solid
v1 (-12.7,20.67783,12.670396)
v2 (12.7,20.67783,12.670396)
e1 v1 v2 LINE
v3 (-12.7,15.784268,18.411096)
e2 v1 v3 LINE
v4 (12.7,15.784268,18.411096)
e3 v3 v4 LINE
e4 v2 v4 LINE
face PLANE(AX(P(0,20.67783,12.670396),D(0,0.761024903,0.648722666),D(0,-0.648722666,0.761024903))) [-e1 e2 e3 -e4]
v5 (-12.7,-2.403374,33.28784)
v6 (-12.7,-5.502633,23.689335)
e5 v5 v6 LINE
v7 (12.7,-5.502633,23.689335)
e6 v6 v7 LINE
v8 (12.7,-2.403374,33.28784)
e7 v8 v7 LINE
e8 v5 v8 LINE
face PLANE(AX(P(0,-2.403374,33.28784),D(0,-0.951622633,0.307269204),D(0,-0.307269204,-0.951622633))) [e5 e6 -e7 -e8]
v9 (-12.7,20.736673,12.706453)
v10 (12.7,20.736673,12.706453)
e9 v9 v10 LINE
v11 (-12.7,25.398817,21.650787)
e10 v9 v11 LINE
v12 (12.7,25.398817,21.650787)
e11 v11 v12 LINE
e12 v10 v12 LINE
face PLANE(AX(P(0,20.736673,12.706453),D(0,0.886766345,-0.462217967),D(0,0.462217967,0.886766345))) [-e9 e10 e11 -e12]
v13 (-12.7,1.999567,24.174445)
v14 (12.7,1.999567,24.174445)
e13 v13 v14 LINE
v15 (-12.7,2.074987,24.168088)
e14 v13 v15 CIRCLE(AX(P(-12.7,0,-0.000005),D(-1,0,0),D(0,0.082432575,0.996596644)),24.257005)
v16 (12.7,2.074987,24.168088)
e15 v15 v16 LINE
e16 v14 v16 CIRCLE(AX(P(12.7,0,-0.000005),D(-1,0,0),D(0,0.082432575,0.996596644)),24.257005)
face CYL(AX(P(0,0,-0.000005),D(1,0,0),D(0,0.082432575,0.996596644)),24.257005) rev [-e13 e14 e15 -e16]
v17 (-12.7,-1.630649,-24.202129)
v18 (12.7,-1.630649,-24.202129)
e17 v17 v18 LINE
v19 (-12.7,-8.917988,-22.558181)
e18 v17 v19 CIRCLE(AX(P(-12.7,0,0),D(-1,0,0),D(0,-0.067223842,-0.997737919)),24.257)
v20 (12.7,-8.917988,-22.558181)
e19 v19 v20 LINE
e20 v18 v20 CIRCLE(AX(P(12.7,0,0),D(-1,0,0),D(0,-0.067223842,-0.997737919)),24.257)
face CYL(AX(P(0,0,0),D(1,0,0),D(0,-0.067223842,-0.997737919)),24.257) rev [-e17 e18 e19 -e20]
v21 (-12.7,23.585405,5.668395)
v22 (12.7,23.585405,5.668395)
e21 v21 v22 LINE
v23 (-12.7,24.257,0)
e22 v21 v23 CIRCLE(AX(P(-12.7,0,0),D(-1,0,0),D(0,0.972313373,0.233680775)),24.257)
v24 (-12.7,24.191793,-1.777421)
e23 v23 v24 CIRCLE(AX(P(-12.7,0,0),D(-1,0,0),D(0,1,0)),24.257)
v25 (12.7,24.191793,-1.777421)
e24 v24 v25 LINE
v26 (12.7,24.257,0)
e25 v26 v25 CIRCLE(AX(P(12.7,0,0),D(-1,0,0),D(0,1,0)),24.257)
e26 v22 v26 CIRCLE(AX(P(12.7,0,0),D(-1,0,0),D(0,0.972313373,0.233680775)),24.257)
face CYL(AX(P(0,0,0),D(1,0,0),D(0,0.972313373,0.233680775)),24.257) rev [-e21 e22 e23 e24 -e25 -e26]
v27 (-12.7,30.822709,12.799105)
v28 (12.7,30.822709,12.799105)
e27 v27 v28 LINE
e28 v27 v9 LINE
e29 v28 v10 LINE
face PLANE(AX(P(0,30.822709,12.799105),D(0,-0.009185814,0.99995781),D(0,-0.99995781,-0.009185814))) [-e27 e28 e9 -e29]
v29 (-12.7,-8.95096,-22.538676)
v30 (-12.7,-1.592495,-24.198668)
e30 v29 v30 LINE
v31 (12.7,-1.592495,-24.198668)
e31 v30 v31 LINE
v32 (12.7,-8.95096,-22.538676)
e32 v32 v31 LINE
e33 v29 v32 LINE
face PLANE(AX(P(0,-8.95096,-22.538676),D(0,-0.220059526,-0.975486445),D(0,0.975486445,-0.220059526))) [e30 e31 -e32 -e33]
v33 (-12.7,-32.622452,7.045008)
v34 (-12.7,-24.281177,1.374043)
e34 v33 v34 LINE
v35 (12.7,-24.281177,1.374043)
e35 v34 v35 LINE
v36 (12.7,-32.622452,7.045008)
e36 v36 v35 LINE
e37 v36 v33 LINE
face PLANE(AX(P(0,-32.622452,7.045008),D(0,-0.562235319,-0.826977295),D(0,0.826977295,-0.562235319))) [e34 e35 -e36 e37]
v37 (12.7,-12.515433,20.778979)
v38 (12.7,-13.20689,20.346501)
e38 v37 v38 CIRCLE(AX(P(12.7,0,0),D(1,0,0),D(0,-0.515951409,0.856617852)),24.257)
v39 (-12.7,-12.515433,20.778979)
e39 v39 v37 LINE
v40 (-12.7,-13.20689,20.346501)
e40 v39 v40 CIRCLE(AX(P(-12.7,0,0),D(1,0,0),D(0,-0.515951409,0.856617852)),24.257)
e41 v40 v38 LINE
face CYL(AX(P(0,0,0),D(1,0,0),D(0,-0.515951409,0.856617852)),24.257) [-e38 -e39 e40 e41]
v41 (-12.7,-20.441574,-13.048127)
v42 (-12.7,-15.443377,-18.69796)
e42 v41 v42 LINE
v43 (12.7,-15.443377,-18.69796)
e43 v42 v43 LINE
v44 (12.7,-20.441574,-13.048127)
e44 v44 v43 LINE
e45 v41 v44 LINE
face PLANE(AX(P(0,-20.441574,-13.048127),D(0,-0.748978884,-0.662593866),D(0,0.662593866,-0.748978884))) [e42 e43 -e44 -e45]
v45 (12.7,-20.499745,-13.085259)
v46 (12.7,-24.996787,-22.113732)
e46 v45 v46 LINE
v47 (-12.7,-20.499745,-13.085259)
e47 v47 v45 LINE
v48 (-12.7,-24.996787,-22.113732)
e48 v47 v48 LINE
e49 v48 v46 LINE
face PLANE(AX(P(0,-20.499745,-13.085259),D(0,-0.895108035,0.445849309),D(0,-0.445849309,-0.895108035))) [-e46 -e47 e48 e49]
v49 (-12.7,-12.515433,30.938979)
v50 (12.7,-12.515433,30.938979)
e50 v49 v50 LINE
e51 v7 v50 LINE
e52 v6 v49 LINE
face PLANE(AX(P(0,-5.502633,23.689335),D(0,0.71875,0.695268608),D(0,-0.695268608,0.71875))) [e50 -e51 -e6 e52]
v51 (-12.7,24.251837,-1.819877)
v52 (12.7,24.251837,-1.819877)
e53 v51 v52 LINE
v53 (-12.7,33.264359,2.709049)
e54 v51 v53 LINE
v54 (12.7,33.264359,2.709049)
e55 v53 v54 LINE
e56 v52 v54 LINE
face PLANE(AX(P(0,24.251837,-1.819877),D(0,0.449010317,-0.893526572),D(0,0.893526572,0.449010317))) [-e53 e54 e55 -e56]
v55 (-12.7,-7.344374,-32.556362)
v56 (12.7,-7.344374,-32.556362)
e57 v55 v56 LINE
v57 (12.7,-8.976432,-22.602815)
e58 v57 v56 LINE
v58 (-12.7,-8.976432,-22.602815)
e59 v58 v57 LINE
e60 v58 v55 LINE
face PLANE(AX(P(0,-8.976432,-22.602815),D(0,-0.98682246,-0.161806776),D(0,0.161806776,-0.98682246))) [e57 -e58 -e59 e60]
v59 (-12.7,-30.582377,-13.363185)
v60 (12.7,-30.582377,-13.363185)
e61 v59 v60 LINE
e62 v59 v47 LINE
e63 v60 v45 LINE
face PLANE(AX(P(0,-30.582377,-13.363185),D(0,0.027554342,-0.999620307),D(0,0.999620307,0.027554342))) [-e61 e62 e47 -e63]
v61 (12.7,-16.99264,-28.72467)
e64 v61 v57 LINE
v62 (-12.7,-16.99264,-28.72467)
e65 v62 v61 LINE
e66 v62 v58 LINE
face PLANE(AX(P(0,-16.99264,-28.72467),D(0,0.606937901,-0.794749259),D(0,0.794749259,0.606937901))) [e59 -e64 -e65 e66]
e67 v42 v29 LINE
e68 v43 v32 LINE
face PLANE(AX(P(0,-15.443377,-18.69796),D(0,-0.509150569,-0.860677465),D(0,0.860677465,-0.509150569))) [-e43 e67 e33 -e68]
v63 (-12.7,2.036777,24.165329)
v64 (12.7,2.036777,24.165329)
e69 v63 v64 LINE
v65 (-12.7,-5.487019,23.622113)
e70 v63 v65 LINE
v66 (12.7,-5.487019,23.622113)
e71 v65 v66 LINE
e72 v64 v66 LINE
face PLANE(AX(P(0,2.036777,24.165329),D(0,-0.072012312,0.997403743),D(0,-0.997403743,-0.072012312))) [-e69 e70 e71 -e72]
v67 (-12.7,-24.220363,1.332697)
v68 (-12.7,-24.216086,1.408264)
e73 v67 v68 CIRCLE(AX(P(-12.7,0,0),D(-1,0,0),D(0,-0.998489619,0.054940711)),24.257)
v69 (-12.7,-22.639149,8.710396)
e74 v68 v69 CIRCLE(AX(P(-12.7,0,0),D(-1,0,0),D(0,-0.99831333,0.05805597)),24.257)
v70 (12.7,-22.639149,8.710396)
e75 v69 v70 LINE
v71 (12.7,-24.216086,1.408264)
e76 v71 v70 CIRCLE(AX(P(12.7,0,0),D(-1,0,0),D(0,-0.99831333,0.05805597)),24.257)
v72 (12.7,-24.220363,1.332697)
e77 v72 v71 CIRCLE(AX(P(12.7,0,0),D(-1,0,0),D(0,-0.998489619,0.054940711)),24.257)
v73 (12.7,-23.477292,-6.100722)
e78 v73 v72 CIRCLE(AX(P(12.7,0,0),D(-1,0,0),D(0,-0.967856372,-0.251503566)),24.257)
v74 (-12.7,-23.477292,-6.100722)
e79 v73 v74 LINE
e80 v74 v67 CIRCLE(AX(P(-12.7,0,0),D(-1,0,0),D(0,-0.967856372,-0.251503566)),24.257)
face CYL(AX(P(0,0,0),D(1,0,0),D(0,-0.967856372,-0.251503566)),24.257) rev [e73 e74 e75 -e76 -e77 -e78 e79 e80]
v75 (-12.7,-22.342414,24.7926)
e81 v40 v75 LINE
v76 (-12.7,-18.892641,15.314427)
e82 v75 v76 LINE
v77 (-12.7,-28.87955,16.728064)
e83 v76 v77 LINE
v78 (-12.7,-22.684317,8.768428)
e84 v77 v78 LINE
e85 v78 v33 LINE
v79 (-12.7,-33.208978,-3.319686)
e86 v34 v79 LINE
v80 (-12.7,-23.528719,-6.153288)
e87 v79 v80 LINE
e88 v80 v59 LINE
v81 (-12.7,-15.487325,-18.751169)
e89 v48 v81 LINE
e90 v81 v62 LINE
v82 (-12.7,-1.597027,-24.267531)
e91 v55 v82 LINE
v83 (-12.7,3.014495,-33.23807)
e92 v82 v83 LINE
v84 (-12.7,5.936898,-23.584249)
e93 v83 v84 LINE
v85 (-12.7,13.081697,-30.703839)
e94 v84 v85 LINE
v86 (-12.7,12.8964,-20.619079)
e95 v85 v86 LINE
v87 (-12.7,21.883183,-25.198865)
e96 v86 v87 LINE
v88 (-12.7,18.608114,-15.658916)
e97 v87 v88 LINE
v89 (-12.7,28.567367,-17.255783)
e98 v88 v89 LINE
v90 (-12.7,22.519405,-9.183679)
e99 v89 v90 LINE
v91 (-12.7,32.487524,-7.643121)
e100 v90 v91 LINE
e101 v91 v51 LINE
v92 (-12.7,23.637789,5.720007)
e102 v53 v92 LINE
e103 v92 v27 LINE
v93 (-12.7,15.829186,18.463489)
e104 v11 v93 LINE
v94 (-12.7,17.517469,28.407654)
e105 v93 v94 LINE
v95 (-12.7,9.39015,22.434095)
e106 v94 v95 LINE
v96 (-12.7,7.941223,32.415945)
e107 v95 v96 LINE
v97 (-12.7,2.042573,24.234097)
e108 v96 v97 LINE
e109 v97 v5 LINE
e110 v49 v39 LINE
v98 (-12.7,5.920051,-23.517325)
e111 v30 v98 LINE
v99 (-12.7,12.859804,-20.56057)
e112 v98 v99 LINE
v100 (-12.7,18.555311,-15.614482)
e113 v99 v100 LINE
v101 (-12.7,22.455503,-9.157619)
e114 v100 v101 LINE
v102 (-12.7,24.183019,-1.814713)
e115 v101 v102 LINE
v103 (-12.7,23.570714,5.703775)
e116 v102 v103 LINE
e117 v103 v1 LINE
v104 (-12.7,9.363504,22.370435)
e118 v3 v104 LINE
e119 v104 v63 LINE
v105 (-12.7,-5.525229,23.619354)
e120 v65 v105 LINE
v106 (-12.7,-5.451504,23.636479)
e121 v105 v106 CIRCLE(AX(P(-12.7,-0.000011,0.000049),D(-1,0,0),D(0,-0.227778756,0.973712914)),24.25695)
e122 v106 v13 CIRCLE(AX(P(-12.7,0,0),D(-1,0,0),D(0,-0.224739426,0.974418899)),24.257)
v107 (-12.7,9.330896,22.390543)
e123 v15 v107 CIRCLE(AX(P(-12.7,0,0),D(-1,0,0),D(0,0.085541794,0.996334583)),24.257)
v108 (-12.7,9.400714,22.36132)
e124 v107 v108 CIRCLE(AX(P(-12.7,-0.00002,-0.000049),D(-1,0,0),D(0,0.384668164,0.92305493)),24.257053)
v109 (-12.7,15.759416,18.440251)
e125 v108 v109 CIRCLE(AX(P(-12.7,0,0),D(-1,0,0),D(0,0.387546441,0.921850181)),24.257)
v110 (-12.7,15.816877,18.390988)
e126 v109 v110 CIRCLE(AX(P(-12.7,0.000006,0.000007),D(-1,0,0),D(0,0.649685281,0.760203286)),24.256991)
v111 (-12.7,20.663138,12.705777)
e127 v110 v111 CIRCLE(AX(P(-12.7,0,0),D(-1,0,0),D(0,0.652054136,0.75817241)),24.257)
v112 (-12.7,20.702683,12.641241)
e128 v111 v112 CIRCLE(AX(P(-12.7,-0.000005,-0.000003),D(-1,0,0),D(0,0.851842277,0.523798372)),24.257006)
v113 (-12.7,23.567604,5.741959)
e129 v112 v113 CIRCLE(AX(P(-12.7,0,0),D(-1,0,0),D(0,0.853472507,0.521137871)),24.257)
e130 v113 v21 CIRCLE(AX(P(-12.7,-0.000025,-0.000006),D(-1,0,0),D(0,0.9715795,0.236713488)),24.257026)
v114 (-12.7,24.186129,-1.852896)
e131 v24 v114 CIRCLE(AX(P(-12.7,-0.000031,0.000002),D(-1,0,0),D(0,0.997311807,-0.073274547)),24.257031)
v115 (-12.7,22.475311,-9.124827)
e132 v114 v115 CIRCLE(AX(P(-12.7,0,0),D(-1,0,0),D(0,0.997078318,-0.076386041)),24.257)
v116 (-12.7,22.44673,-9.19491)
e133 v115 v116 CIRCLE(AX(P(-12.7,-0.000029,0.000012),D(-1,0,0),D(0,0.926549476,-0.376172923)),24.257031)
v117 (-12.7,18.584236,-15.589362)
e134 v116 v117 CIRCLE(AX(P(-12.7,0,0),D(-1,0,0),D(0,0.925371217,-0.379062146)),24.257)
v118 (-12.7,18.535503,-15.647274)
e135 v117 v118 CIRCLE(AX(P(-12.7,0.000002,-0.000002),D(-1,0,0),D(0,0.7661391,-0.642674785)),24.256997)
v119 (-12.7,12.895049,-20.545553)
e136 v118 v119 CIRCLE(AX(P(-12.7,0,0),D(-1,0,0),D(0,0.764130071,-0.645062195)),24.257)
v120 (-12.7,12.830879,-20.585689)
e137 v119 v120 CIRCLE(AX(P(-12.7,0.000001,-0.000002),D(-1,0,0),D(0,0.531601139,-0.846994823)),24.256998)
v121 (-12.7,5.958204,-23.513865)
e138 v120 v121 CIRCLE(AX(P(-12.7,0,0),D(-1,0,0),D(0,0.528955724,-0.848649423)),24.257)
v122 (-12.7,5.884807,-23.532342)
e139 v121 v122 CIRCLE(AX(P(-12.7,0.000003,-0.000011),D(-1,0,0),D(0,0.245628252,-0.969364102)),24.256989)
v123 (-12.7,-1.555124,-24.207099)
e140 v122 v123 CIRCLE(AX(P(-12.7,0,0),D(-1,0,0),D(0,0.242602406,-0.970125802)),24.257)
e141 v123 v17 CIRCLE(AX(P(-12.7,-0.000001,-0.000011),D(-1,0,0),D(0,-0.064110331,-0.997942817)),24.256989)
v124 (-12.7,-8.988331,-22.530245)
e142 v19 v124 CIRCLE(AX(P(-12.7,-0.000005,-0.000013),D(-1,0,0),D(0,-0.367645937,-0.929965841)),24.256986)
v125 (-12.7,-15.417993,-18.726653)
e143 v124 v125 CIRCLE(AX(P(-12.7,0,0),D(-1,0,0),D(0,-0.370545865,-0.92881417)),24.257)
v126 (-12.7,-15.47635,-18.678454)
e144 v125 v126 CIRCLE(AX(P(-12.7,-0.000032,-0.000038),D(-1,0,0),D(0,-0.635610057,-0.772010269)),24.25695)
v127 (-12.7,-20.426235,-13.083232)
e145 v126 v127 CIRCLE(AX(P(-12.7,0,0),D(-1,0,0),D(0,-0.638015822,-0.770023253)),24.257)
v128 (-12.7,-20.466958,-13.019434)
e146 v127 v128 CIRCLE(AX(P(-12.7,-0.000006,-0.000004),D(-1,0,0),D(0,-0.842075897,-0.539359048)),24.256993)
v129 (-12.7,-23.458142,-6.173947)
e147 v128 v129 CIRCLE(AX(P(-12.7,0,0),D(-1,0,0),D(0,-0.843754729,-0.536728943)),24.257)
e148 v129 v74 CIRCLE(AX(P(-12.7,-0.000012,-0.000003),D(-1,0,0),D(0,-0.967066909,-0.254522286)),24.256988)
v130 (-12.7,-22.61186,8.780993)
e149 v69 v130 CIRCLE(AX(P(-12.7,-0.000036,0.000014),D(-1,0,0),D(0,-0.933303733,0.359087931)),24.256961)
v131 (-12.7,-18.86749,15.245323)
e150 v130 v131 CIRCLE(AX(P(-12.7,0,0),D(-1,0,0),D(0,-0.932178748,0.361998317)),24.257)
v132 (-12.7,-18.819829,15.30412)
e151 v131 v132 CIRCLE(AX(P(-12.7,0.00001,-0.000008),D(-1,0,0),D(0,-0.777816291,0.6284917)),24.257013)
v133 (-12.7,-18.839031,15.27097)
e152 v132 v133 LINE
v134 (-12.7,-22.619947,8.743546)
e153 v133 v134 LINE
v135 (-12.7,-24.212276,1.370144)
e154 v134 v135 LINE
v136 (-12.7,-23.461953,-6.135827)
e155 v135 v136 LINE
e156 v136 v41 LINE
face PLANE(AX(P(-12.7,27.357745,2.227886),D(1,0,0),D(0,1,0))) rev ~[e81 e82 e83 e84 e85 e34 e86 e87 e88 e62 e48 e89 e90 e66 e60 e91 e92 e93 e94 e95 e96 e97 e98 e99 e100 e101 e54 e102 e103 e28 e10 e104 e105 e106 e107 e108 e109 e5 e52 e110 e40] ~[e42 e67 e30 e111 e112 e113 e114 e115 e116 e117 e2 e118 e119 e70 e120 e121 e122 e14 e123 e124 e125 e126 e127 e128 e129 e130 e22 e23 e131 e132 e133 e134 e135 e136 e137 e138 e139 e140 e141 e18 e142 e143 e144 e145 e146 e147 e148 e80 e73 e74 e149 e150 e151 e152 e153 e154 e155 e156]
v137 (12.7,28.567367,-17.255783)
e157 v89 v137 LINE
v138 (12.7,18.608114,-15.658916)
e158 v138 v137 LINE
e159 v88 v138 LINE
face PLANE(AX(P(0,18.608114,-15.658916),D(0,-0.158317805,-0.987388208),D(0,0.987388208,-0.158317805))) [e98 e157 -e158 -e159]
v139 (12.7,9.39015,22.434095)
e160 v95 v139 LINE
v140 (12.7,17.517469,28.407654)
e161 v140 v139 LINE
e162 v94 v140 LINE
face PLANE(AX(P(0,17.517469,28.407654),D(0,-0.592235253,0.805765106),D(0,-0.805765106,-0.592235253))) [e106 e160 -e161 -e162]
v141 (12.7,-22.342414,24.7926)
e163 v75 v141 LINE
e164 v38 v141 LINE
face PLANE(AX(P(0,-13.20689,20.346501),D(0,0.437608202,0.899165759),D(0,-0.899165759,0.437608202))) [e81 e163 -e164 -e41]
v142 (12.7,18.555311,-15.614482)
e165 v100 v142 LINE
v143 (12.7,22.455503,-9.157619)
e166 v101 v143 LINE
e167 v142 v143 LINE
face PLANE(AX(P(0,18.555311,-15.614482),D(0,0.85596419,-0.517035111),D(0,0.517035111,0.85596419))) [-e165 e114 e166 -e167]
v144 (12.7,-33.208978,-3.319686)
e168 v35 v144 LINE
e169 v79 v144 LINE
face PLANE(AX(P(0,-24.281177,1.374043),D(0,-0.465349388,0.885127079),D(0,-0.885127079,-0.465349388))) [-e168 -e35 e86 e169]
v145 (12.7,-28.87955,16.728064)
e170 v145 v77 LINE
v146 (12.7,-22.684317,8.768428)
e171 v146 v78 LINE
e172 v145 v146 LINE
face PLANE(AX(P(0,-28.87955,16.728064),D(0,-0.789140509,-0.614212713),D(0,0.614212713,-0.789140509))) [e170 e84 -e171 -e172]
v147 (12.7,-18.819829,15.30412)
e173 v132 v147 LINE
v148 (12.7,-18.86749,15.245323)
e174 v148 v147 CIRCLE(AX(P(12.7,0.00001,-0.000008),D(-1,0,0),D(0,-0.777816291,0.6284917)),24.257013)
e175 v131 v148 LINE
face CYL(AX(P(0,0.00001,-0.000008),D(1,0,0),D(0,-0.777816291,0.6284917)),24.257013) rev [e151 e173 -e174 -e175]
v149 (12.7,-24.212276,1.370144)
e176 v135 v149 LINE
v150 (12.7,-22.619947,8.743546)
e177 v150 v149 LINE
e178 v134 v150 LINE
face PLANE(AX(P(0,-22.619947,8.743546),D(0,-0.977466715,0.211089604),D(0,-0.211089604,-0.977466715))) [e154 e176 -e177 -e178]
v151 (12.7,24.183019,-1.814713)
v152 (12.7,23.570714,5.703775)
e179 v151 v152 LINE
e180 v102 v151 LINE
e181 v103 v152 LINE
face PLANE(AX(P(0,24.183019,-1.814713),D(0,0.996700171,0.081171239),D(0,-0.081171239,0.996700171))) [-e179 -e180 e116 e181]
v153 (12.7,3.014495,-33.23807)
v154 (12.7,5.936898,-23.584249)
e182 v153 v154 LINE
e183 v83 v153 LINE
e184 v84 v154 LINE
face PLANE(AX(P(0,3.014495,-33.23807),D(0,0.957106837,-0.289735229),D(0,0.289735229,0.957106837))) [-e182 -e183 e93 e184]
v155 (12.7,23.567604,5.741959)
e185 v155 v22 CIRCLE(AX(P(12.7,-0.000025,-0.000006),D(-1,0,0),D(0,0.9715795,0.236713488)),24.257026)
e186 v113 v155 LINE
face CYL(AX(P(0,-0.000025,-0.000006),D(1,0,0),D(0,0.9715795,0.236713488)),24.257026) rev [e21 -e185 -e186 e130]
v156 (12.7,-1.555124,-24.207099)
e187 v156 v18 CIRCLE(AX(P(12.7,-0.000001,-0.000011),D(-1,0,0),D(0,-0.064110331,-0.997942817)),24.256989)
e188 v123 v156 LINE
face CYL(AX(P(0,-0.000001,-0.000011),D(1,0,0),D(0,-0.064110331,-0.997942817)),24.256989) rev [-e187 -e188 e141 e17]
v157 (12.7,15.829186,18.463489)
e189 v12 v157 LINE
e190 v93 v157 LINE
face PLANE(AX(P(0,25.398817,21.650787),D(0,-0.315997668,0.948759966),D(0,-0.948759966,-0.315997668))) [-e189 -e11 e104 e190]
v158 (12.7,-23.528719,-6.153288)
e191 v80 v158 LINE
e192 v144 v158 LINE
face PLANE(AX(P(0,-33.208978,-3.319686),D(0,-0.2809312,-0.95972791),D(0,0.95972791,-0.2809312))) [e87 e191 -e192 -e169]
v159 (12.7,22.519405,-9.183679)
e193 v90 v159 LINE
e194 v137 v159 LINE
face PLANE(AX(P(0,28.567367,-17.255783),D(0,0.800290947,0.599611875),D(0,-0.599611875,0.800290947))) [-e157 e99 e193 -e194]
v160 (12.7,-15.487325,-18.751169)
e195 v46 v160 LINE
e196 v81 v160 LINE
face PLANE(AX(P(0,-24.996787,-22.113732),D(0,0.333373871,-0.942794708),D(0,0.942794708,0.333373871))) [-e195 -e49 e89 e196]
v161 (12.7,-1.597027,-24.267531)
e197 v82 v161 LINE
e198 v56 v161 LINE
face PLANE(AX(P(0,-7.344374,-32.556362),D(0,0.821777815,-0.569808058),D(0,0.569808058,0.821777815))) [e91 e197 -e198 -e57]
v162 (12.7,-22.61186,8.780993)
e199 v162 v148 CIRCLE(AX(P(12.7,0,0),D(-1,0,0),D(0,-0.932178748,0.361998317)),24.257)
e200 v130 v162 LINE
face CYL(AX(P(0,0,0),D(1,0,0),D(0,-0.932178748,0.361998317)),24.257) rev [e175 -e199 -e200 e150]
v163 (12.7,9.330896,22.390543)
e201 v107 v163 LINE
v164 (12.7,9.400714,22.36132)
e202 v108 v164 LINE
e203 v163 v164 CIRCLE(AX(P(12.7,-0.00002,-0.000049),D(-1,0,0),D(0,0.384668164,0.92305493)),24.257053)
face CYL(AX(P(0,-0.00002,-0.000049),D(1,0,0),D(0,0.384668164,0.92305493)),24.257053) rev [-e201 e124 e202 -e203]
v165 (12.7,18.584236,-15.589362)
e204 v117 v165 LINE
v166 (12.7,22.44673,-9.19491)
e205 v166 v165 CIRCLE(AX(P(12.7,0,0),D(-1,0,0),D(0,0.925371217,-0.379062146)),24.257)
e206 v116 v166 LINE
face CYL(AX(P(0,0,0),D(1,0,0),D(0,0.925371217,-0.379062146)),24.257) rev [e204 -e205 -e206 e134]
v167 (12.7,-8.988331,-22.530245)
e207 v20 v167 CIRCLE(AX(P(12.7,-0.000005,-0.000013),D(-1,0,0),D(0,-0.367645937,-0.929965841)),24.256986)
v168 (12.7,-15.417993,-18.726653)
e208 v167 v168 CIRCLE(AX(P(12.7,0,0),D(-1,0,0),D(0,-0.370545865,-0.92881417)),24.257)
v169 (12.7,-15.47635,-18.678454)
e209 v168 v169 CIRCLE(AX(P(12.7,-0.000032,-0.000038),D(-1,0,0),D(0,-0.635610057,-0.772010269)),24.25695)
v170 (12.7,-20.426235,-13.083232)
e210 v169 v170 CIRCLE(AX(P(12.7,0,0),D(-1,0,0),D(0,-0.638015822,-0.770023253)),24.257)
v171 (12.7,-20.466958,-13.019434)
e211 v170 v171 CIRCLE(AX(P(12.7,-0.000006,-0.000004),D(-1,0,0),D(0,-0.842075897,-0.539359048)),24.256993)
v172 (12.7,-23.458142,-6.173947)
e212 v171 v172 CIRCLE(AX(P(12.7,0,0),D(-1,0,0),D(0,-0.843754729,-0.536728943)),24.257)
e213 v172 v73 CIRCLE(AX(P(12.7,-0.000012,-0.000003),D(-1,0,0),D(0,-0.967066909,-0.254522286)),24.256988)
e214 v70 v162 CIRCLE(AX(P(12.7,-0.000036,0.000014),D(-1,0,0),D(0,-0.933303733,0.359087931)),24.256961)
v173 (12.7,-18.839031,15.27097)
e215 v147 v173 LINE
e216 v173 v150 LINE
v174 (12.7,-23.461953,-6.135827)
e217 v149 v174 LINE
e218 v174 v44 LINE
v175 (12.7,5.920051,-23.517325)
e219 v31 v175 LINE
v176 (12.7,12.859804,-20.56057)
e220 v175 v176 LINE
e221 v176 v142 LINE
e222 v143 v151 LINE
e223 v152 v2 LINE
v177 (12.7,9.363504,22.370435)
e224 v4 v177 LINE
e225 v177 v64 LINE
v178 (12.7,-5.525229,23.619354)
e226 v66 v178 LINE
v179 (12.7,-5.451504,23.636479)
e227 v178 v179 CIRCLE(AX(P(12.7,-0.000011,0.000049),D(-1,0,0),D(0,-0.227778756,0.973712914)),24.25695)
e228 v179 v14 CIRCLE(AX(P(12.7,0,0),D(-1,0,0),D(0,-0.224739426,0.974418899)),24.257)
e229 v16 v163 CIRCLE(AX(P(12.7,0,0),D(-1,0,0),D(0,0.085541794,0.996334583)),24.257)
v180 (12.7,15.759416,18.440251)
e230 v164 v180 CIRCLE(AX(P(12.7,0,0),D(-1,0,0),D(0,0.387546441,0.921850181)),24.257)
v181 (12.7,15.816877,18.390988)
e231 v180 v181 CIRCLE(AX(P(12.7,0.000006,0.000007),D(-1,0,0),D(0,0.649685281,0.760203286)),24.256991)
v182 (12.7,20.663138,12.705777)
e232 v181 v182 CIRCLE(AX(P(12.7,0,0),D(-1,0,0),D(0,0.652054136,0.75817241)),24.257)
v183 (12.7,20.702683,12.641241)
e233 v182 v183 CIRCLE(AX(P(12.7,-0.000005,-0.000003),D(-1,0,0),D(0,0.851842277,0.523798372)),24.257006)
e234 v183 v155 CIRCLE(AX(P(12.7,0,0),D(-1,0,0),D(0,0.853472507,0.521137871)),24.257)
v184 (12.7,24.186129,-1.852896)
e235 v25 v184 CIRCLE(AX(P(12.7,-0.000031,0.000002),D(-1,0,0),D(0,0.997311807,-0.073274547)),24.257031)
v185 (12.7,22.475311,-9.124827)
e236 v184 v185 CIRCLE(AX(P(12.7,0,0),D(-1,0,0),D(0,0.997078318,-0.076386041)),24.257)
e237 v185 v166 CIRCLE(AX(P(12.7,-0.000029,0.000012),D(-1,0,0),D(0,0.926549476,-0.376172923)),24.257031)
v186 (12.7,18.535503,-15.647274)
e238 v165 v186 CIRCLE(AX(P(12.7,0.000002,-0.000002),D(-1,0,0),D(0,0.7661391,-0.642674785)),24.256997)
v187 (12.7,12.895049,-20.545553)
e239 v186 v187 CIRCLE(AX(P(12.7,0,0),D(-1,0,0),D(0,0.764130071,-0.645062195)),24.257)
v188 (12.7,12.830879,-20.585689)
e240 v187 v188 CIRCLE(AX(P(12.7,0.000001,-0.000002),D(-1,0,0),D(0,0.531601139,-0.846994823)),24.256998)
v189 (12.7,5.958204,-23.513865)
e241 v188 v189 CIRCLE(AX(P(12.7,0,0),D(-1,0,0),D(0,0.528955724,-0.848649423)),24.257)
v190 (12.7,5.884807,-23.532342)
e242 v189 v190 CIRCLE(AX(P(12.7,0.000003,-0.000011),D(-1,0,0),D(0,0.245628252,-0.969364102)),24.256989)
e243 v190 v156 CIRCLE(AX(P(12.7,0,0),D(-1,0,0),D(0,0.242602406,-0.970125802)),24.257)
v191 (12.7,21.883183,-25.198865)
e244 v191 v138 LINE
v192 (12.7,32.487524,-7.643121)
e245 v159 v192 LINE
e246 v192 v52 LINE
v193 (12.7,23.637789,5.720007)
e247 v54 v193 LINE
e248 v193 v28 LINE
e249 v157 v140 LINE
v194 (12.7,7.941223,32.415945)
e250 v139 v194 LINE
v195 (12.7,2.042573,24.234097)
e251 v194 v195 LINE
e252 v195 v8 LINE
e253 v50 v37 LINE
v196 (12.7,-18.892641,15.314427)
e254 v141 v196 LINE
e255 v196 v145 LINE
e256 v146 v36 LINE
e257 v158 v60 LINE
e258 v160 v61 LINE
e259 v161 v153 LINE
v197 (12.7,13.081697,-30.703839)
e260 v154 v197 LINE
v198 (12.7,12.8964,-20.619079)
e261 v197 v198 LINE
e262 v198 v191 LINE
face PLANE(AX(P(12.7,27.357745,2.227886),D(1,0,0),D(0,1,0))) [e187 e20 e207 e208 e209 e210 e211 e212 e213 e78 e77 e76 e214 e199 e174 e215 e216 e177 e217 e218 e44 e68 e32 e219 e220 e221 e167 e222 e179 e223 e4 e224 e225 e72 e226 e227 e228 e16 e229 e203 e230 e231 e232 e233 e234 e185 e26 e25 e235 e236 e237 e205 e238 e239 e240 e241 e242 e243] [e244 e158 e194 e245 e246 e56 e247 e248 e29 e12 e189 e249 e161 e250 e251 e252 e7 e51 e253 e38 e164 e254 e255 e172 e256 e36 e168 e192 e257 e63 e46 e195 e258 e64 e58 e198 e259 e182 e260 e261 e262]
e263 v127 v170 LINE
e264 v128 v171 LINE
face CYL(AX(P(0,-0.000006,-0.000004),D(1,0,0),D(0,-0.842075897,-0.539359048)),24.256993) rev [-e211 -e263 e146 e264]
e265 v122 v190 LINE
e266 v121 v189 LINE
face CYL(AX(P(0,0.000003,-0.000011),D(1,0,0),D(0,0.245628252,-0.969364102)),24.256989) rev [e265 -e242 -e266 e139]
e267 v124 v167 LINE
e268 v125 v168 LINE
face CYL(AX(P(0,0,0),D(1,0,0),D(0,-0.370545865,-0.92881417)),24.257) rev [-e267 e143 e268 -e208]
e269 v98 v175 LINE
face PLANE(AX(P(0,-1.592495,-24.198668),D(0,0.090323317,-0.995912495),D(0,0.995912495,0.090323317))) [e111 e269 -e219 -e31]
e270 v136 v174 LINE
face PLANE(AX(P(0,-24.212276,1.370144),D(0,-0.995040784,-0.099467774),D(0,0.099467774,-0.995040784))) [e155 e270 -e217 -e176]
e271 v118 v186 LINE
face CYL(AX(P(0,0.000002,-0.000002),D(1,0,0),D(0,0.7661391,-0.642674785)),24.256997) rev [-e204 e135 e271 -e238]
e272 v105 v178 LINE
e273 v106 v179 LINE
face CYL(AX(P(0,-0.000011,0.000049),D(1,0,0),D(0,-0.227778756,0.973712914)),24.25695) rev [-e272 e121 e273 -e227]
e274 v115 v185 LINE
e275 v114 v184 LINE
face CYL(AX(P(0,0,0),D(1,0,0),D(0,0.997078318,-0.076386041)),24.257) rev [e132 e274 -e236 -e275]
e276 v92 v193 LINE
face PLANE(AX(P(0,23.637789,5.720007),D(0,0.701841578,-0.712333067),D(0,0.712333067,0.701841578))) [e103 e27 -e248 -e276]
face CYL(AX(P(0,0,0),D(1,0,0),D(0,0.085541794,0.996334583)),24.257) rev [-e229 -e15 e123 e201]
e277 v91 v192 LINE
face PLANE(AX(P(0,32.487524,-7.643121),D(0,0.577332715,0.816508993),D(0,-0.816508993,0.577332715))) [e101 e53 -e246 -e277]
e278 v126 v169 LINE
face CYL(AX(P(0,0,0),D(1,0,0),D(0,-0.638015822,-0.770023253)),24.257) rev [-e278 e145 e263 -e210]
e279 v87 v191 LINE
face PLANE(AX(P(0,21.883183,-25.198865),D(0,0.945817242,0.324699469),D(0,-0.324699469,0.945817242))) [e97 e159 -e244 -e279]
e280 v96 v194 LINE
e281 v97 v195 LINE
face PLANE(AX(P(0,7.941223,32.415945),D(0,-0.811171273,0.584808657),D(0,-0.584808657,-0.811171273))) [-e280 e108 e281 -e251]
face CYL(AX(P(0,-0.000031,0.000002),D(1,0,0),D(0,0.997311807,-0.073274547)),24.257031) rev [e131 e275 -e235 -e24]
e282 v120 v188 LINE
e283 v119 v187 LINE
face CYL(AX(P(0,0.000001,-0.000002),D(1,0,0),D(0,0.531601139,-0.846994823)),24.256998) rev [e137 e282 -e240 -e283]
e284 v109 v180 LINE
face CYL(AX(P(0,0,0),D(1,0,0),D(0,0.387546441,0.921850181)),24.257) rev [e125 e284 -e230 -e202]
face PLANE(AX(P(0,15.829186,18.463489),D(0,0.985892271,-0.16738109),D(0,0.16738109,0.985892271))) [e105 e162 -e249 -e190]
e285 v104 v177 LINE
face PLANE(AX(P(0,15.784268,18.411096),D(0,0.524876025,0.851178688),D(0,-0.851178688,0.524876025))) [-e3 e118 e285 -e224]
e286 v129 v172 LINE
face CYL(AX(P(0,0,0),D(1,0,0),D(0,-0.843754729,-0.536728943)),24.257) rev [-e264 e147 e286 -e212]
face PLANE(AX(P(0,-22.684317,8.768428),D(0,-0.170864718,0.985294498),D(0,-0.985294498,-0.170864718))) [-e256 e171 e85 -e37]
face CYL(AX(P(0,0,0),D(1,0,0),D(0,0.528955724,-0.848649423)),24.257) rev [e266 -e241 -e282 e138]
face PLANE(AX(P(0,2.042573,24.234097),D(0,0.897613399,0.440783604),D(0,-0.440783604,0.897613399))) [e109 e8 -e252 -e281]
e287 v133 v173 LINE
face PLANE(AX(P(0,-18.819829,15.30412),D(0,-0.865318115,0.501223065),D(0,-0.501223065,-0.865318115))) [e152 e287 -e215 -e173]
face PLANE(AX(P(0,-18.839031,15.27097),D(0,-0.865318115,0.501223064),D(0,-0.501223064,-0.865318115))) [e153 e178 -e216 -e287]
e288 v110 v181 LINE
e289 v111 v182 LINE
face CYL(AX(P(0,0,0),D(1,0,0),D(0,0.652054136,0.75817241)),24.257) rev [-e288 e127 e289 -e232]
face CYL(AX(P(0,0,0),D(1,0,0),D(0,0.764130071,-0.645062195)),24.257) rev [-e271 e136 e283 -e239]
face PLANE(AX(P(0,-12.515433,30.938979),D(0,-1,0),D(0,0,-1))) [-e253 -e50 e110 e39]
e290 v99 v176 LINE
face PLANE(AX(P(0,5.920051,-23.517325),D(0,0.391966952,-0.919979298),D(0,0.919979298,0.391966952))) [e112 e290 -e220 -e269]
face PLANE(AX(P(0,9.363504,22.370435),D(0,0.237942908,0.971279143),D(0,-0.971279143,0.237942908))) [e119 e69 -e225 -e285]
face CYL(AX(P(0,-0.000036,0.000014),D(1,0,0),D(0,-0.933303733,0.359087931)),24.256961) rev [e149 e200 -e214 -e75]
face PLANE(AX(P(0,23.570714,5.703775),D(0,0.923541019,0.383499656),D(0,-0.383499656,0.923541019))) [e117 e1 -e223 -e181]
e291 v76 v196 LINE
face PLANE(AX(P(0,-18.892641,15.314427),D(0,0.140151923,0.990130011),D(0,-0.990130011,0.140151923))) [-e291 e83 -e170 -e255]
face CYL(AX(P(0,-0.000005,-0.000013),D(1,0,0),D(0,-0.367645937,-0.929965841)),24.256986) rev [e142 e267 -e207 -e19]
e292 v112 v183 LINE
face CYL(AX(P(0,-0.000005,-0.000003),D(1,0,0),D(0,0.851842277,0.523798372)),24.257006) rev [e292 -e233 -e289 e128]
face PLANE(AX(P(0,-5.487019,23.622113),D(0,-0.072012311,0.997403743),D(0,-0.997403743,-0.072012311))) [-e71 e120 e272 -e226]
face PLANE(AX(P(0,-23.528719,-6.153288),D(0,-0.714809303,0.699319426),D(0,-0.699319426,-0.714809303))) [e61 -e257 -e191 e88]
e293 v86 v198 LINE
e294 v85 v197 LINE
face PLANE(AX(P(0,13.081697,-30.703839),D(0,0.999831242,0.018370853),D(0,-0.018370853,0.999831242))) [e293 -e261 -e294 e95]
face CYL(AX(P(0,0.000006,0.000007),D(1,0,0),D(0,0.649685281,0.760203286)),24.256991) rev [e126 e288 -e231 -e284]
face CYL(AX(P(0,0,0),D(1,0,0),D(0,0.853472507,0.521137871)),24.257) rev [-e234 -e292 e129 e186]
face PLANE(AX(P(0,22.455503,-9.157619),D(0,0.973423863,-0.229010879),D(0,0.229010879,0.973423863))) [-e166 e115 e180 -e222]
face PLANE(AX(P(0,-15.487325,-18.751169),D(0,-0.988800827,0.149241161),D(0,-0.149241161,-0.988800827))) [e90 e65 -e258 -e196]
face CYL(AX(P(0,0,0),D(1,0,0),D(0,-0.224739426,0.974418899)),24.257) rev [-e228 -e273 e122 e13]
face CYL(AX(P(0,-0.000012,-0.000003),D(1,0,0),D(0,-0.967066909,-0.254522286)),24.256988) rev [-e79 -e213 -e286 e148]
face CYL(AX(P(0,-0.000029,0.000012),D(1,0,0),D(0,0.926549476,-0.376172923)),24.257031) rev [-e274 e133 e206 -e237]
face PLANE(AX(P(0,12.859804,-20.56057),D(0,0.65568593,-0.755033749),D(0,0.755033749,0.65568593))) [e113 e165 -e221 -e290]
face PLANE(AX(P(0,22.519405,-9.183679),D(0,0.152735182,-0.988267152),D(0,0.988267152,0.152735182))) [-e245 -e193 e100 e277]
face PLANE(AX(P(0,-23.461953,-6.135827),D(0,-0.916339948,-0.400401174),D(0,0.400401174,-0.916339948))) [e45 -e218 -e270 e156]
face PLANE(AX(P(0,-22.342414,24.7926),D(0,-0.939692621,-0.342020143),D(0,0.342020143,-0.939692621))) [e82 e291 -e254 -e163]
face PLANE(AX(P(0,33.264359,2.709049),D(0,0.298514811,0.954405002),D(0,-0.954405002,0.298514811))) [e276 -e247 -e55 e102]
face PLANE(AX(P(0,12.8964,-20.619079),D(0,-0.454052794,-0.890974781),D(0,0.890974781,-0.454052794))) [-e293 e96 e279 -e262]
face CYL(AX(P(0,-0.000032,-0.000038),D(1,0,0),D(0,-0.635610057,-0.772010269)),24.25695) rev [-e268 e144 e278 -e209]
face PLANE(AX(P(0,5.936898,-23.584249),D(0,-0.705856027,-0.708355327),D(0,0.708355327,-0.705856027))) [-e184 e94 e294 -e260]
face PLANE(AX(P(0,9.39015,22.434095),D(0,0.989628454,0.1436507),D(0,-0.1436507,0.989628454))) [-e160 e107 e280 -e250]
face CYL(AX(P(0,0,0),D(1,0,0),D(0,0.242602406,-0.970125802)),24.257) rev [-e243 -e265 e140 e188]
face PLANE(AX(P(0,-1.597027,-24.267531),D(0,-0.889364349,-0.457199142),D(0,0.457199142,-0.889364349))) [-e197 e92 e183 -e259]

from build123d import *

# Parameters (mm, degrees)
F1_DEPTH = 12.7


with BuildPart() as f1:
    # F0 (on Right) → F1 (new body, symmetric)
    with BuildSketch(Plane.YZ):
        with BuildLine():
            ThreePointArc((23.5854054871, 5.6683945708), (24.0885162463, 2.8540206814), (24.257, 0))
            ThreePointArc((24.257, 0), (24.2406926461, -0.8893081786), (24.1917925105, -1.7774206395))
            Line((24.1917925105, -1.7774206395), (24.2518372175, -1.8198767227))
            Line((24.2518372175, -1.8198767227), (33.2643587406, 2.7090486284))
            Line((33.2643587406, 2.7090486284), (23.6377892706, 5.7200068277))
            Line((23.6377892706, 5.7200068277), (23.5854054871, 5.6683945708))
        make_face()
        with BuildLine():
            ThreePointArc((23.5676039215, 5.7419591081), (23.5765333967, 5.7051837826), (23.5854054871, 5.6683945708))
            Line((23.5854054871, 5.6683945708), (23.6377892706, 5.7200068277))
            Line((23.6377892706, 5.7200068277), (23.5676039215, 5.7419591081))
        make_face()
        with BuildLine():
            Line((24.2518372175, -1.8198767227), (24.1917925105, -1.7774206395))
            ThreePointArc((24.1917925105, -1.7774206395), (24.1889900762, -1.8151606243), (24.1861287664, -1.8528961911))
            Line((24.1861287664, -1.8528961911), (24.2518372175, -1.8198767227))
        make_face()
        with BuildLine():
            ThreePointArc((20.7026825957, 12.6412413291), (22.402334496, 9.3025511624), (23.5676039215, 5.7419591081))
            Line((23.5676039215, 5.7419591081), (23.6377892706, 5.7200068277))
            Line((23.6377892706, 5.7200068277), (30.8227094509, 12.7991050077))
            Line((30.8227094509, 12.7991050077), (20.7366733326, 12.7064526444))
            Line((20.7366733326, 12.7064526444), (20.7026825957, 12.6412413291))
        make_face()
        with BuildLine():
            Line((24.1830190921, -1.814712557), (23.5707135958, 5.7037754741))
            Line((23.5707135958, 5.7037754741), (20.6778299975, 12.6703962317))
            Line((20.6778299975, 12.6703962317), (15.7842684775, 18.4110961842))
            Line((15.7842684775, 18.4110961842), (9.3635042744, 22.37043544))
            Line((9.3635042744, 22.37043544), (2.0367767147, 24.1653291864))
            Line((2.0367767147, 24.1653291864), (-5.4870186323, 23.622112958))
            Line((-5.4870186323, 23.622112958), (-12.5154333238, 20.778979227))
            ThreePointArc((-12.5154333238, 20.778979227), (-12.8629795573, 20.5656462556), (-13.2068903428, 20.346500841))
            Line((-13.2068903428, 20.346500841), (-18.839030758, 15.270969654))
            Line((-18.839030758, 15.270969654), (-22.6199467454, 8.7435463805))
            Line((-22.6199467454, 8.7435463805), (-24.2122758236, 1.370143611))
            Line((-24.2122758236, 1.370143611), (-23.4619526177, -6.1358270378))
            Line((-23.4619526177, -6.1358270378), (-20.4415744492, -13.0481273795))
            Line((-20.4415744492, -13.0481273795), (-15.4433772015, -18.6979596396))
            Line((-15.4433772015, -18.6979596396), (-8.9509601151, -22.5386758061))
            Line((-8.9509601151, -22.5386758061), (-1.5924952722, -24.1986684113))
            Line((-1.5924952722, -24.1986684113), (5.9200510257, -23.517325314))
            Line((5.9200510257, -23.517325314), (12.859804367, -20.5605696837))
            Line((12.859804367, -20.5605696837), (18.5553107694, -15.614481622))
            Line((18.5553107694, -15.614481622), (22.4555030315, -9.1576185591))
            Line((22.4555030315, -9.1576185591), (24.1830190921, -1.814712557))
        make_face()
        with BuildLine():
            Line((24.2518372175, -1.8198767227), (24.1861287664, -1.8528961911))
            ThreePointArc((24.1861287664, -1.8528961911), (23.6123426483, -5.5551168898), (22.4753106729, -9.1248265276))
            Line((22.4753106729, -9.1248265276), (22.5194051282, -9.1836785866))
            Line((22.5194051282, -9.1836785866), (32.4875238799, -7.6431210279))
            Line((32.4875238799, -7.6431210279), (24.2518372175, -1.8198767227))
        make_face()
        with BuildLine():
            ThreePointArc((20.6631381062, 12.705777135), (20.6829355219, 12.6735246556), (20.7026825957, 12.6412413291))
            Line((20.7026825957, 12.6412413291), (20.7366733326, 12.7064526444))
            Line((20.7366733326, 12.7064526444), (20.6631381062, 12.705777135))
        make_face()
        with BuildLine():
            Line((22.5194051282, -9.1836785866), (22.4753106729, -9.1248265276))
            ThreePointArc((22.4753106729, -9.1248265276), (22.4610474779, -9.1598796496), (22.4467296132, -9.1949104766))
            Line((22.4467296132, -9.1949104766), (22.5194051282, -9.1836785866))
        make_face()
        with BuildLine():
            ThreePointArc((15.8168771762, 18.3909881571), (18.460181062, 15.7360657141), (20.6631381062, 12.705777135))
            Line((20.6631381062, 12.705777135), (20.7366733326, 12.7064526444))
            Line((20.7366733326, 12.7064526444), (25.3988171361, 21.6507873986))
            Line((25.3988171361, 21.6507873986), (15.8291861018, 18.4634890273))
            Line((15.8291861018, 18.4634890273), (15.8168771762, 18.3909881571))
        make_face()
        with BuildLine():
            Line((22.5194051282, -9.1836785866), (22.4467296132, -9.1949104766))
            ThreePointArc((22.4467296132, -9.1949104766), (20.7631233508, -12.5417206841), (18.5842361506, -15.5893622608))
            Line((18.5842361506, -15.5893622608), (18.608114007, -15.6589160803))
            Line((18.608114007, -15.6589160803), (28.5673673184, -17.2557825493))
            Line((28.5673673184, -17.2557825493), (22.5194051282, -9.1836785866))
        make_face()
        with BuildLine():
            ThreePointArc((15.7594158792, 18.4402510868), (15.7881657418, 18.4156420336), (15.8168771762, 18.3909881571))
            Line((15.8168771762, 18.3909881571), (15.8291861018, 18.4634890273))
            Line((15.8291861018, 18.4634890273), (15.7594158792, 18.4402510868))
        make_face()
        with BuildLine():
            ThreePointArc((9.4007140276, 22.3613198352), (12.7319177371, 20.6470414282), (15.7594158792, 18.4402510868))
            Line((15.7594158792, 18.4402510868), (15.8291861018, 18.4634890273))
            Line((15.8291861018, 18.4634890273), (17.5174690492, 28.4076536343))
            Line((17.5174690492, 28.4076536343), (9.3901501952, 22.4340954581))
            Line((9.3901501952, 22.4340954581), (9.4007140276, 22.3613198352))
        make_face()
        with BuildLine():
            Line((18.608114007, -15.6589160803), (18.5842361506, -15.5893622608))
            ThreePointArc((18.5842361506, -15.5893622608), (18.5598922266, -15.6183369645), (18.5355031281, -15.6472736535))
            Line((18.5355031281, -15.6472736535), (18.608114007, -15.6589160803))
        make_face()
        with BuildLine():
            Line((18.608114007, -15.6589160803), (18.5355031281, -15.6472736535))
            ThreePointArc((18.5355031281, -15.6472736535), (15.9049735961, -18.3148536415), (12.8950488205, -20.5455534099))
            Line((12.8950488205, -20.5455534099), (12.8963997824, -20.6190793287))
            Line((12.8963997824, -20.6190793287), (21.8831827577, -25.1988654365))
            Line((21.8831827577, -25.1988654365), (18.608114007, -15.6589160803))
        make_face()
        with BuildLine():
            ThreePointArc((9.3308955757, 22.3905434672), (9.3658161997, 22.3759588825), (9.4007140276, 22.3613198352))
            Line((9.4007140276, 22.3613198352), (9.3901501952, 22.4340954581))
            Line((9.3901501952, 22.4340954581), (9.3308955757, 22.3905434672))
        make_face()
        with BuildLine():
            ThreePointArc((2.0749873027, 24.1680879818), (5.7717811102, 23.5603181603), (9.3308955757, 22.3905434672))
            Line((9.3308955757, 22.3905434672), (9.3901501952, 22.4340954581))
            Line((9.3901501952, 22.4340954581), (7.9412229206, 32.4159449256))
            Line((7.9412229206, 32.4159449256), (2.042572813, 24.2340969713))
            Line((2.042572813, 24.2340969713), (2.0749873027, 24.1680879818))
        make_face()
        with BuildLine():
            Line((12.8963997824, -20.6190793287), (12.8950488205, -20.5455534099))
            ThreePointArc((12.8950488205, -20.5455534099), (12.8629795573, -20.5656462556), (12.8308789858, -20.5856890449))
            Line((12.8308789858, -20.5856890449), (12.8963997824, -20.6190793287))
        make_face()
        with BuildLine():
            Line((12.8963997824, -20.6190793287), (12.8308789858, -20.5856890449))
            ThreePointArc((12.8308789858, -20.5856890449), (9.5079423667, -22.3159378237), (5.9582044839, -23.5138650232))
            Line((5.9582044839, -23.5138650232), (5.9368978393, -23.5842490607))
            Line((5.9368978393, -23.5842490607), (13.0816966908, -30.7038388248))
            Line((13.0816966908, -30.7038388248), (12.8963997824, -20.6190793287))
        make_face()
        with BuildLine():
            ThreePointArc((1.9995669615, 24.1744447913), (2.0372796114, 24.1712958028), (2.0749873027, 24.1680879818))
            Line((2.0749873027, 24.1680879818), (2.042572813, 24.2340969713))
            Line((2.042572813, 24.2340969713), (1.9995669615, 24.1744447913))
        make_face()
        with BuildLine():
            Line((-12.5154333238, 20.778979227), (-5.4870186323, 23.622112958))
            Line((-5.4870186323, 23.622112958), (-5.5252292203, 23.6193541627))
            ThreePointArc((-5.5252292203, 23.6193541627), (-9.1314461451, 22.4726220166), (-12.5154333238, 20.778979227))
        make_face()
        with BuildLine():
            ThreePointArc((-5.4515042648, 23.636479227), (-1.7468026573, 24.1940225981), (1.9995669615, 24.1744447913))
            Line((1.9995669615, 24.1744447913), (2.042572813, 24.2340969713))
            Line((2.042572813, 24.2340969713), (-2.4033741119, 33.2878401188))
            Line((-2.4033741119, 33.2878401188), (-5.5026331565, 23.689334901))
            Line((-5.5026331565, 23.689334901), (-5.4515042648, 23.636479227))
        make_face()
        with BuildLine():
            Line((5.9368978393, -23.5842490607), (5.9582044839, -23.5138650232))
            ThreePointArc((5.9582044839, -23.5138650232), (5.9215127345, -23.523131933), (5.8848065722, -23.5323415879))
            Line((5.8848065722, -23.5323415879), (5.9368978393, -23.5842490607))
        make_face()
        with BuildLine():
            Line((5.9368978393, -23.5842490607), (5.8848065722, -23.5323415879))
            ThreePointArc((5.8848065722, -23.5323415879), (2.1909727116, -24.1578493988), (-1.555124337, -24.2070989029))
            Line((-1.555124337, -24.2070989029), (-1.5970270694, -24.2675310703))
            Line((-1.5970270694, -24.2675310703), (3.0144945526, -33.2380704838))
            Line((3.0144945526, -33.2380704838), (5.9368978393, -23.5842490607))
        make_face()
        with BuildLine():
            ThreePointArc((-5.5252292203, 23.6193541627), (-5.4883734219, 23.6279454499), (-5.4515042648, 23.636479227))
            Line((-5.4515042648, 23.636479227), (-5.5026331565, 23.689334901))
            Line((-5.5026331565, 23.689334901), (-5.5252292203, 23.6193541627))
        make_face()
        with BuildLine():
            Line((-12.5154333238, 30.938979227), (-12.5154333238, 20.778979227))
            ThreePointArc((-12.5154333238, 20.778979227), (-9.1314461451, 22.4726220166), (-5.5252292203, 23.6193541627))
            Line((-5.5252292203, 23.6193541627), (-5.5026331565, 23.689334901))
            Line((-5.5026331565, 23.689334901), (-12.5154333238, 30.938979227))
        make_face()
        with BuildLine():
            Line((-1.5970270694, -24.2675310703), (-1.555124337, -24.2070989029))
            ThreePointArc((-1.555124337, -24.2070989029), (-1.5928884722, -24.2046432594), (-1.6306487304, -24.2021287022))
            Line((-1.6306487304, -24.2021287022), (-1.5970270694, -24.2675310703))
        make_face()
        with BuildLine():
            Line((-1.5970270694, -24.2675310703), (-1.6306487304, -24.2021287022))
            ThreePointArc((-1.6306487304, -24.2021287022), (-5.3379839233, -23.662374704), (-8.9179875178, -22.5581813902))
            Line((-8.9179875178, -22.5581813902), (-8.9764320503, -22.6028145892))
            Line((-8.9764320503, -22.6028145892), (-7.3443742013, -32.5563615056))
            Line((-7.3443742013, -32.5563615056), (-1.5970270694, -24.2675310703))
        make_face()
        with BuildLine():
            Line((-18.839030758, 15.270969654), (-13.2068903428, 20.346500841))
            ThreePointArc((-13.2068903428, 20.346500841), (-16.2106164918, 18.0448874188), (-18.819828877, 15.3041200348))
            Line((-18.819828877, 15.3041200348), (-18.839030758, 15.270969654))
        make_face()
        with BuildLine():
            ThreePointArc((-18.819828877, 15.3041200348), (-16.2106164918, 18.0448874188), (-13.2068903428, 20.346500841))
            Line((-13.2068903428, 20.346500841), (-22.3424144499, 24.7926001751))
            Line((-22.3424144499, 24.7926001751), (-18.8926413835, 15.3144265731))
            Line((-18.8926413835, 15.3144265731), (-18.819828877, 15.3041200348))
        make_face()
        with BuildLine():
            Line((-8.9764320503, -22.6028145892), (-8.9179875178, -22.5581813902))
            ThreePointArc((-8.9179875178, -22.5581813902), (-8.95317018, -22.5442407885), (-8.9883310503, -22.5302453145))
            Line((-8.9883310503, -22.5302453145), (-8.9764320503, -22.6028145892))
        make_face()
        with BuildLine():
            Line((-8.9764320503, -22.6028145892), (-8.9883310503, -22.5302453145))
            ThreePointArc((-8.9883310503, -22.5302453145), (-12.3504653486, -20.8774532612), (-15.4179931969, -18.7266530587))
            Line((-15.4179931969, -18.7266530587), (-15.4873247444, -18.7511688161))
            Line((-15.4873247444, -18.7511688161), (-16.9926399899, -28.7246704605))
            Line((-16.9926399899, -28.7246704605), (-8.9764320503, -22.6028145892))
        make_face()
        with BuildLine():
            ThreePointArc((-18.8674897937, 15.2453231479), (-18.8436822679, 15.2747401806), (-18.819828877, 15.3041200348))
            Line((-18.819828877, 15.3041200348), (-18.8926413835, 15.3144265731))
            Line((-18.8926413835, 15.3144265731), (-18.8674897937, 15.2453231479))
        make_face()
        with BuildLine():
            Line((-15.4873247444, -18.7511688161), (-15.4179931969, -18.7266530587))
            ThreePointArc((-15.4179931969, -18.7266530587), (-15.447190297, -18.702576318), (-15.4763497988, -18.6784540555))
            Line((-15.4763497988, -18.6784540555), (-15.4873247444, -18.7511688161))
        make_face()
        with BuildLine():
            Line((-15.4873247444, -18.7511688161), (-15.4763497988, -18.6784540555))
            ThreePointArc((-15.4763497988, -18.6784540555), (-18.167980796, -16.072539401), (-20.4262350599, -13.0832324093))
            Line((-20.4262350599, -13.0832324093), (-20.499745467, -13.0852587096))
            Line((-20.499745467, -13.0852587096), (-24.9967874323, -22.1137315928))
            Line((-24.9967874323, -22.1137315928), (-15.4873247444, -18.7511688161))
        make_face()
        with BuildLine():
            ThreePointArc((-22.611859892, 8.7809931799), (-20.9900215119, 12.158167869), (-18.8674897937, 15.2453231479))
            Line((-18.8674897937, 15.2453231479), (-18.8926413835, 15.3144265731))
            Line((-18.8926413835, 15.3144265731), (-28.8795497873, 16.7280635752))
            Line((-28.8795497873, 16.7280635752), (-22.684316803, 8.7684280741))
            Line((-22.684316803, 8.7684280741), (-22.611859892, 8.7809931799))
        make_face()
        with BuildLine():
            Line((-20.499745467, -13.0852587096), (-20.4262350599, -13.0832324093))
            ThreePointArc((-20.4262350599, -13.0832324093), (-20.4466216402, -13.0513490683), (-20.4669584538, -13.0194339605))
            Line((-20.4669584538, -13.0194339605), (-20.499745467, -13.0852587096))
        make_face()
        with BuildLine():
            Line((-20.499745467, -13.0852587096), (-20.4669584538, -13.0194339605))
            ThreePointArc((-20.4669584538, -13.0194339605), (-22.2276581111, -9.7125312815), (-23.4581420023, -6.1739471007))
            Line((-23.4581420023, -6.1739471007), (-23.5287187891, -6.1532878897))
            Line((-23.5287187891, -6.1532878897), (-30.5823773793, -13.3631845278))
            Line((-30.5823773793, -13.3631845278), (-20.499745467, -13.0852587096))
        make_face()
        with BuildLine():
            ThreePointArc((-22.6391486264, 8.7103959997), (-22.6255317943, 8.7457052333), (-22.611859892, 8.7809931799))
            Line((-22.611859892, 8.7809931799), (-22.684316803, 8.7684280741))
            Line((-22.684316803, 8.7684280741), (-22.6391486264, 8.7103959997))
        make_face()
        with BuildLine():
            ThreePointArc((-24.2160864391, 1.4082636739), (-23.7104101058, 5.1204005326), (-22.6391486264, 8.7103959997))
            Line((-22.6391486264, 8.7103959997), (-22.684316803, 8.7684280741))
            Line((-22.684316803, 8.7684280741), (-32.6224519942, 7.0450076493))
            Line((-32.6224519942, 7.0450076493), (-24.2811772055, 1.3740426575))
            Line((-24.2811772055, 1.3740426575), (-24.2160864391, 1.4082636739))
        make_face()
        with BuildLine():
            Line((-23.5287187891, -6.1532878897), (-23.4581420023, -6.1739471007))
            ThreePointArc((-23.4581420023, -6.1739471007), (-23.4677455647, -6.1373420234), (-23.477292007, -6.1007220079))
            Line((-23.477292007, -6.1007220079), (-23.5287187891, -6.1532878897))
        make_face()
        with BuildLine():
            Line((-23.5287187891, -6.1532878897), (-23.477292007, -6.1007220079))
            ThreePointArc((-23.477292007, -6.1007220079), (-24.1367042992, -2.4127897905), (-24.2203626771, 1.3326968116))
            Line((-24.2203626771, 1.3326968116), (-24.2811772055, 1.3740426575))
            Line((-24.2811772055, 1.3740426575), (-33.2089775666, -3.319686111))
            Line((-33.2089775666, -3.319686111), (-23.5287187891, -6.1532878897))
        make_face()
        with BuildLine():
            ThreePointArc((-24.2203626771, 1.3326968116), (-24.2182540315, 1.3704819106), (-24.2160864391, 1.4082636739))
            Line((-24.2160864391, 1.4082636739), (-24.2811772055, 1.3740426575))
            Line((-24.2811772055, 1.3740426575), (-24.2203626771, 1.3326968116))
        make_face()
    extrude(amount=F1_DEPTH, both=True)


solid = f1.part
